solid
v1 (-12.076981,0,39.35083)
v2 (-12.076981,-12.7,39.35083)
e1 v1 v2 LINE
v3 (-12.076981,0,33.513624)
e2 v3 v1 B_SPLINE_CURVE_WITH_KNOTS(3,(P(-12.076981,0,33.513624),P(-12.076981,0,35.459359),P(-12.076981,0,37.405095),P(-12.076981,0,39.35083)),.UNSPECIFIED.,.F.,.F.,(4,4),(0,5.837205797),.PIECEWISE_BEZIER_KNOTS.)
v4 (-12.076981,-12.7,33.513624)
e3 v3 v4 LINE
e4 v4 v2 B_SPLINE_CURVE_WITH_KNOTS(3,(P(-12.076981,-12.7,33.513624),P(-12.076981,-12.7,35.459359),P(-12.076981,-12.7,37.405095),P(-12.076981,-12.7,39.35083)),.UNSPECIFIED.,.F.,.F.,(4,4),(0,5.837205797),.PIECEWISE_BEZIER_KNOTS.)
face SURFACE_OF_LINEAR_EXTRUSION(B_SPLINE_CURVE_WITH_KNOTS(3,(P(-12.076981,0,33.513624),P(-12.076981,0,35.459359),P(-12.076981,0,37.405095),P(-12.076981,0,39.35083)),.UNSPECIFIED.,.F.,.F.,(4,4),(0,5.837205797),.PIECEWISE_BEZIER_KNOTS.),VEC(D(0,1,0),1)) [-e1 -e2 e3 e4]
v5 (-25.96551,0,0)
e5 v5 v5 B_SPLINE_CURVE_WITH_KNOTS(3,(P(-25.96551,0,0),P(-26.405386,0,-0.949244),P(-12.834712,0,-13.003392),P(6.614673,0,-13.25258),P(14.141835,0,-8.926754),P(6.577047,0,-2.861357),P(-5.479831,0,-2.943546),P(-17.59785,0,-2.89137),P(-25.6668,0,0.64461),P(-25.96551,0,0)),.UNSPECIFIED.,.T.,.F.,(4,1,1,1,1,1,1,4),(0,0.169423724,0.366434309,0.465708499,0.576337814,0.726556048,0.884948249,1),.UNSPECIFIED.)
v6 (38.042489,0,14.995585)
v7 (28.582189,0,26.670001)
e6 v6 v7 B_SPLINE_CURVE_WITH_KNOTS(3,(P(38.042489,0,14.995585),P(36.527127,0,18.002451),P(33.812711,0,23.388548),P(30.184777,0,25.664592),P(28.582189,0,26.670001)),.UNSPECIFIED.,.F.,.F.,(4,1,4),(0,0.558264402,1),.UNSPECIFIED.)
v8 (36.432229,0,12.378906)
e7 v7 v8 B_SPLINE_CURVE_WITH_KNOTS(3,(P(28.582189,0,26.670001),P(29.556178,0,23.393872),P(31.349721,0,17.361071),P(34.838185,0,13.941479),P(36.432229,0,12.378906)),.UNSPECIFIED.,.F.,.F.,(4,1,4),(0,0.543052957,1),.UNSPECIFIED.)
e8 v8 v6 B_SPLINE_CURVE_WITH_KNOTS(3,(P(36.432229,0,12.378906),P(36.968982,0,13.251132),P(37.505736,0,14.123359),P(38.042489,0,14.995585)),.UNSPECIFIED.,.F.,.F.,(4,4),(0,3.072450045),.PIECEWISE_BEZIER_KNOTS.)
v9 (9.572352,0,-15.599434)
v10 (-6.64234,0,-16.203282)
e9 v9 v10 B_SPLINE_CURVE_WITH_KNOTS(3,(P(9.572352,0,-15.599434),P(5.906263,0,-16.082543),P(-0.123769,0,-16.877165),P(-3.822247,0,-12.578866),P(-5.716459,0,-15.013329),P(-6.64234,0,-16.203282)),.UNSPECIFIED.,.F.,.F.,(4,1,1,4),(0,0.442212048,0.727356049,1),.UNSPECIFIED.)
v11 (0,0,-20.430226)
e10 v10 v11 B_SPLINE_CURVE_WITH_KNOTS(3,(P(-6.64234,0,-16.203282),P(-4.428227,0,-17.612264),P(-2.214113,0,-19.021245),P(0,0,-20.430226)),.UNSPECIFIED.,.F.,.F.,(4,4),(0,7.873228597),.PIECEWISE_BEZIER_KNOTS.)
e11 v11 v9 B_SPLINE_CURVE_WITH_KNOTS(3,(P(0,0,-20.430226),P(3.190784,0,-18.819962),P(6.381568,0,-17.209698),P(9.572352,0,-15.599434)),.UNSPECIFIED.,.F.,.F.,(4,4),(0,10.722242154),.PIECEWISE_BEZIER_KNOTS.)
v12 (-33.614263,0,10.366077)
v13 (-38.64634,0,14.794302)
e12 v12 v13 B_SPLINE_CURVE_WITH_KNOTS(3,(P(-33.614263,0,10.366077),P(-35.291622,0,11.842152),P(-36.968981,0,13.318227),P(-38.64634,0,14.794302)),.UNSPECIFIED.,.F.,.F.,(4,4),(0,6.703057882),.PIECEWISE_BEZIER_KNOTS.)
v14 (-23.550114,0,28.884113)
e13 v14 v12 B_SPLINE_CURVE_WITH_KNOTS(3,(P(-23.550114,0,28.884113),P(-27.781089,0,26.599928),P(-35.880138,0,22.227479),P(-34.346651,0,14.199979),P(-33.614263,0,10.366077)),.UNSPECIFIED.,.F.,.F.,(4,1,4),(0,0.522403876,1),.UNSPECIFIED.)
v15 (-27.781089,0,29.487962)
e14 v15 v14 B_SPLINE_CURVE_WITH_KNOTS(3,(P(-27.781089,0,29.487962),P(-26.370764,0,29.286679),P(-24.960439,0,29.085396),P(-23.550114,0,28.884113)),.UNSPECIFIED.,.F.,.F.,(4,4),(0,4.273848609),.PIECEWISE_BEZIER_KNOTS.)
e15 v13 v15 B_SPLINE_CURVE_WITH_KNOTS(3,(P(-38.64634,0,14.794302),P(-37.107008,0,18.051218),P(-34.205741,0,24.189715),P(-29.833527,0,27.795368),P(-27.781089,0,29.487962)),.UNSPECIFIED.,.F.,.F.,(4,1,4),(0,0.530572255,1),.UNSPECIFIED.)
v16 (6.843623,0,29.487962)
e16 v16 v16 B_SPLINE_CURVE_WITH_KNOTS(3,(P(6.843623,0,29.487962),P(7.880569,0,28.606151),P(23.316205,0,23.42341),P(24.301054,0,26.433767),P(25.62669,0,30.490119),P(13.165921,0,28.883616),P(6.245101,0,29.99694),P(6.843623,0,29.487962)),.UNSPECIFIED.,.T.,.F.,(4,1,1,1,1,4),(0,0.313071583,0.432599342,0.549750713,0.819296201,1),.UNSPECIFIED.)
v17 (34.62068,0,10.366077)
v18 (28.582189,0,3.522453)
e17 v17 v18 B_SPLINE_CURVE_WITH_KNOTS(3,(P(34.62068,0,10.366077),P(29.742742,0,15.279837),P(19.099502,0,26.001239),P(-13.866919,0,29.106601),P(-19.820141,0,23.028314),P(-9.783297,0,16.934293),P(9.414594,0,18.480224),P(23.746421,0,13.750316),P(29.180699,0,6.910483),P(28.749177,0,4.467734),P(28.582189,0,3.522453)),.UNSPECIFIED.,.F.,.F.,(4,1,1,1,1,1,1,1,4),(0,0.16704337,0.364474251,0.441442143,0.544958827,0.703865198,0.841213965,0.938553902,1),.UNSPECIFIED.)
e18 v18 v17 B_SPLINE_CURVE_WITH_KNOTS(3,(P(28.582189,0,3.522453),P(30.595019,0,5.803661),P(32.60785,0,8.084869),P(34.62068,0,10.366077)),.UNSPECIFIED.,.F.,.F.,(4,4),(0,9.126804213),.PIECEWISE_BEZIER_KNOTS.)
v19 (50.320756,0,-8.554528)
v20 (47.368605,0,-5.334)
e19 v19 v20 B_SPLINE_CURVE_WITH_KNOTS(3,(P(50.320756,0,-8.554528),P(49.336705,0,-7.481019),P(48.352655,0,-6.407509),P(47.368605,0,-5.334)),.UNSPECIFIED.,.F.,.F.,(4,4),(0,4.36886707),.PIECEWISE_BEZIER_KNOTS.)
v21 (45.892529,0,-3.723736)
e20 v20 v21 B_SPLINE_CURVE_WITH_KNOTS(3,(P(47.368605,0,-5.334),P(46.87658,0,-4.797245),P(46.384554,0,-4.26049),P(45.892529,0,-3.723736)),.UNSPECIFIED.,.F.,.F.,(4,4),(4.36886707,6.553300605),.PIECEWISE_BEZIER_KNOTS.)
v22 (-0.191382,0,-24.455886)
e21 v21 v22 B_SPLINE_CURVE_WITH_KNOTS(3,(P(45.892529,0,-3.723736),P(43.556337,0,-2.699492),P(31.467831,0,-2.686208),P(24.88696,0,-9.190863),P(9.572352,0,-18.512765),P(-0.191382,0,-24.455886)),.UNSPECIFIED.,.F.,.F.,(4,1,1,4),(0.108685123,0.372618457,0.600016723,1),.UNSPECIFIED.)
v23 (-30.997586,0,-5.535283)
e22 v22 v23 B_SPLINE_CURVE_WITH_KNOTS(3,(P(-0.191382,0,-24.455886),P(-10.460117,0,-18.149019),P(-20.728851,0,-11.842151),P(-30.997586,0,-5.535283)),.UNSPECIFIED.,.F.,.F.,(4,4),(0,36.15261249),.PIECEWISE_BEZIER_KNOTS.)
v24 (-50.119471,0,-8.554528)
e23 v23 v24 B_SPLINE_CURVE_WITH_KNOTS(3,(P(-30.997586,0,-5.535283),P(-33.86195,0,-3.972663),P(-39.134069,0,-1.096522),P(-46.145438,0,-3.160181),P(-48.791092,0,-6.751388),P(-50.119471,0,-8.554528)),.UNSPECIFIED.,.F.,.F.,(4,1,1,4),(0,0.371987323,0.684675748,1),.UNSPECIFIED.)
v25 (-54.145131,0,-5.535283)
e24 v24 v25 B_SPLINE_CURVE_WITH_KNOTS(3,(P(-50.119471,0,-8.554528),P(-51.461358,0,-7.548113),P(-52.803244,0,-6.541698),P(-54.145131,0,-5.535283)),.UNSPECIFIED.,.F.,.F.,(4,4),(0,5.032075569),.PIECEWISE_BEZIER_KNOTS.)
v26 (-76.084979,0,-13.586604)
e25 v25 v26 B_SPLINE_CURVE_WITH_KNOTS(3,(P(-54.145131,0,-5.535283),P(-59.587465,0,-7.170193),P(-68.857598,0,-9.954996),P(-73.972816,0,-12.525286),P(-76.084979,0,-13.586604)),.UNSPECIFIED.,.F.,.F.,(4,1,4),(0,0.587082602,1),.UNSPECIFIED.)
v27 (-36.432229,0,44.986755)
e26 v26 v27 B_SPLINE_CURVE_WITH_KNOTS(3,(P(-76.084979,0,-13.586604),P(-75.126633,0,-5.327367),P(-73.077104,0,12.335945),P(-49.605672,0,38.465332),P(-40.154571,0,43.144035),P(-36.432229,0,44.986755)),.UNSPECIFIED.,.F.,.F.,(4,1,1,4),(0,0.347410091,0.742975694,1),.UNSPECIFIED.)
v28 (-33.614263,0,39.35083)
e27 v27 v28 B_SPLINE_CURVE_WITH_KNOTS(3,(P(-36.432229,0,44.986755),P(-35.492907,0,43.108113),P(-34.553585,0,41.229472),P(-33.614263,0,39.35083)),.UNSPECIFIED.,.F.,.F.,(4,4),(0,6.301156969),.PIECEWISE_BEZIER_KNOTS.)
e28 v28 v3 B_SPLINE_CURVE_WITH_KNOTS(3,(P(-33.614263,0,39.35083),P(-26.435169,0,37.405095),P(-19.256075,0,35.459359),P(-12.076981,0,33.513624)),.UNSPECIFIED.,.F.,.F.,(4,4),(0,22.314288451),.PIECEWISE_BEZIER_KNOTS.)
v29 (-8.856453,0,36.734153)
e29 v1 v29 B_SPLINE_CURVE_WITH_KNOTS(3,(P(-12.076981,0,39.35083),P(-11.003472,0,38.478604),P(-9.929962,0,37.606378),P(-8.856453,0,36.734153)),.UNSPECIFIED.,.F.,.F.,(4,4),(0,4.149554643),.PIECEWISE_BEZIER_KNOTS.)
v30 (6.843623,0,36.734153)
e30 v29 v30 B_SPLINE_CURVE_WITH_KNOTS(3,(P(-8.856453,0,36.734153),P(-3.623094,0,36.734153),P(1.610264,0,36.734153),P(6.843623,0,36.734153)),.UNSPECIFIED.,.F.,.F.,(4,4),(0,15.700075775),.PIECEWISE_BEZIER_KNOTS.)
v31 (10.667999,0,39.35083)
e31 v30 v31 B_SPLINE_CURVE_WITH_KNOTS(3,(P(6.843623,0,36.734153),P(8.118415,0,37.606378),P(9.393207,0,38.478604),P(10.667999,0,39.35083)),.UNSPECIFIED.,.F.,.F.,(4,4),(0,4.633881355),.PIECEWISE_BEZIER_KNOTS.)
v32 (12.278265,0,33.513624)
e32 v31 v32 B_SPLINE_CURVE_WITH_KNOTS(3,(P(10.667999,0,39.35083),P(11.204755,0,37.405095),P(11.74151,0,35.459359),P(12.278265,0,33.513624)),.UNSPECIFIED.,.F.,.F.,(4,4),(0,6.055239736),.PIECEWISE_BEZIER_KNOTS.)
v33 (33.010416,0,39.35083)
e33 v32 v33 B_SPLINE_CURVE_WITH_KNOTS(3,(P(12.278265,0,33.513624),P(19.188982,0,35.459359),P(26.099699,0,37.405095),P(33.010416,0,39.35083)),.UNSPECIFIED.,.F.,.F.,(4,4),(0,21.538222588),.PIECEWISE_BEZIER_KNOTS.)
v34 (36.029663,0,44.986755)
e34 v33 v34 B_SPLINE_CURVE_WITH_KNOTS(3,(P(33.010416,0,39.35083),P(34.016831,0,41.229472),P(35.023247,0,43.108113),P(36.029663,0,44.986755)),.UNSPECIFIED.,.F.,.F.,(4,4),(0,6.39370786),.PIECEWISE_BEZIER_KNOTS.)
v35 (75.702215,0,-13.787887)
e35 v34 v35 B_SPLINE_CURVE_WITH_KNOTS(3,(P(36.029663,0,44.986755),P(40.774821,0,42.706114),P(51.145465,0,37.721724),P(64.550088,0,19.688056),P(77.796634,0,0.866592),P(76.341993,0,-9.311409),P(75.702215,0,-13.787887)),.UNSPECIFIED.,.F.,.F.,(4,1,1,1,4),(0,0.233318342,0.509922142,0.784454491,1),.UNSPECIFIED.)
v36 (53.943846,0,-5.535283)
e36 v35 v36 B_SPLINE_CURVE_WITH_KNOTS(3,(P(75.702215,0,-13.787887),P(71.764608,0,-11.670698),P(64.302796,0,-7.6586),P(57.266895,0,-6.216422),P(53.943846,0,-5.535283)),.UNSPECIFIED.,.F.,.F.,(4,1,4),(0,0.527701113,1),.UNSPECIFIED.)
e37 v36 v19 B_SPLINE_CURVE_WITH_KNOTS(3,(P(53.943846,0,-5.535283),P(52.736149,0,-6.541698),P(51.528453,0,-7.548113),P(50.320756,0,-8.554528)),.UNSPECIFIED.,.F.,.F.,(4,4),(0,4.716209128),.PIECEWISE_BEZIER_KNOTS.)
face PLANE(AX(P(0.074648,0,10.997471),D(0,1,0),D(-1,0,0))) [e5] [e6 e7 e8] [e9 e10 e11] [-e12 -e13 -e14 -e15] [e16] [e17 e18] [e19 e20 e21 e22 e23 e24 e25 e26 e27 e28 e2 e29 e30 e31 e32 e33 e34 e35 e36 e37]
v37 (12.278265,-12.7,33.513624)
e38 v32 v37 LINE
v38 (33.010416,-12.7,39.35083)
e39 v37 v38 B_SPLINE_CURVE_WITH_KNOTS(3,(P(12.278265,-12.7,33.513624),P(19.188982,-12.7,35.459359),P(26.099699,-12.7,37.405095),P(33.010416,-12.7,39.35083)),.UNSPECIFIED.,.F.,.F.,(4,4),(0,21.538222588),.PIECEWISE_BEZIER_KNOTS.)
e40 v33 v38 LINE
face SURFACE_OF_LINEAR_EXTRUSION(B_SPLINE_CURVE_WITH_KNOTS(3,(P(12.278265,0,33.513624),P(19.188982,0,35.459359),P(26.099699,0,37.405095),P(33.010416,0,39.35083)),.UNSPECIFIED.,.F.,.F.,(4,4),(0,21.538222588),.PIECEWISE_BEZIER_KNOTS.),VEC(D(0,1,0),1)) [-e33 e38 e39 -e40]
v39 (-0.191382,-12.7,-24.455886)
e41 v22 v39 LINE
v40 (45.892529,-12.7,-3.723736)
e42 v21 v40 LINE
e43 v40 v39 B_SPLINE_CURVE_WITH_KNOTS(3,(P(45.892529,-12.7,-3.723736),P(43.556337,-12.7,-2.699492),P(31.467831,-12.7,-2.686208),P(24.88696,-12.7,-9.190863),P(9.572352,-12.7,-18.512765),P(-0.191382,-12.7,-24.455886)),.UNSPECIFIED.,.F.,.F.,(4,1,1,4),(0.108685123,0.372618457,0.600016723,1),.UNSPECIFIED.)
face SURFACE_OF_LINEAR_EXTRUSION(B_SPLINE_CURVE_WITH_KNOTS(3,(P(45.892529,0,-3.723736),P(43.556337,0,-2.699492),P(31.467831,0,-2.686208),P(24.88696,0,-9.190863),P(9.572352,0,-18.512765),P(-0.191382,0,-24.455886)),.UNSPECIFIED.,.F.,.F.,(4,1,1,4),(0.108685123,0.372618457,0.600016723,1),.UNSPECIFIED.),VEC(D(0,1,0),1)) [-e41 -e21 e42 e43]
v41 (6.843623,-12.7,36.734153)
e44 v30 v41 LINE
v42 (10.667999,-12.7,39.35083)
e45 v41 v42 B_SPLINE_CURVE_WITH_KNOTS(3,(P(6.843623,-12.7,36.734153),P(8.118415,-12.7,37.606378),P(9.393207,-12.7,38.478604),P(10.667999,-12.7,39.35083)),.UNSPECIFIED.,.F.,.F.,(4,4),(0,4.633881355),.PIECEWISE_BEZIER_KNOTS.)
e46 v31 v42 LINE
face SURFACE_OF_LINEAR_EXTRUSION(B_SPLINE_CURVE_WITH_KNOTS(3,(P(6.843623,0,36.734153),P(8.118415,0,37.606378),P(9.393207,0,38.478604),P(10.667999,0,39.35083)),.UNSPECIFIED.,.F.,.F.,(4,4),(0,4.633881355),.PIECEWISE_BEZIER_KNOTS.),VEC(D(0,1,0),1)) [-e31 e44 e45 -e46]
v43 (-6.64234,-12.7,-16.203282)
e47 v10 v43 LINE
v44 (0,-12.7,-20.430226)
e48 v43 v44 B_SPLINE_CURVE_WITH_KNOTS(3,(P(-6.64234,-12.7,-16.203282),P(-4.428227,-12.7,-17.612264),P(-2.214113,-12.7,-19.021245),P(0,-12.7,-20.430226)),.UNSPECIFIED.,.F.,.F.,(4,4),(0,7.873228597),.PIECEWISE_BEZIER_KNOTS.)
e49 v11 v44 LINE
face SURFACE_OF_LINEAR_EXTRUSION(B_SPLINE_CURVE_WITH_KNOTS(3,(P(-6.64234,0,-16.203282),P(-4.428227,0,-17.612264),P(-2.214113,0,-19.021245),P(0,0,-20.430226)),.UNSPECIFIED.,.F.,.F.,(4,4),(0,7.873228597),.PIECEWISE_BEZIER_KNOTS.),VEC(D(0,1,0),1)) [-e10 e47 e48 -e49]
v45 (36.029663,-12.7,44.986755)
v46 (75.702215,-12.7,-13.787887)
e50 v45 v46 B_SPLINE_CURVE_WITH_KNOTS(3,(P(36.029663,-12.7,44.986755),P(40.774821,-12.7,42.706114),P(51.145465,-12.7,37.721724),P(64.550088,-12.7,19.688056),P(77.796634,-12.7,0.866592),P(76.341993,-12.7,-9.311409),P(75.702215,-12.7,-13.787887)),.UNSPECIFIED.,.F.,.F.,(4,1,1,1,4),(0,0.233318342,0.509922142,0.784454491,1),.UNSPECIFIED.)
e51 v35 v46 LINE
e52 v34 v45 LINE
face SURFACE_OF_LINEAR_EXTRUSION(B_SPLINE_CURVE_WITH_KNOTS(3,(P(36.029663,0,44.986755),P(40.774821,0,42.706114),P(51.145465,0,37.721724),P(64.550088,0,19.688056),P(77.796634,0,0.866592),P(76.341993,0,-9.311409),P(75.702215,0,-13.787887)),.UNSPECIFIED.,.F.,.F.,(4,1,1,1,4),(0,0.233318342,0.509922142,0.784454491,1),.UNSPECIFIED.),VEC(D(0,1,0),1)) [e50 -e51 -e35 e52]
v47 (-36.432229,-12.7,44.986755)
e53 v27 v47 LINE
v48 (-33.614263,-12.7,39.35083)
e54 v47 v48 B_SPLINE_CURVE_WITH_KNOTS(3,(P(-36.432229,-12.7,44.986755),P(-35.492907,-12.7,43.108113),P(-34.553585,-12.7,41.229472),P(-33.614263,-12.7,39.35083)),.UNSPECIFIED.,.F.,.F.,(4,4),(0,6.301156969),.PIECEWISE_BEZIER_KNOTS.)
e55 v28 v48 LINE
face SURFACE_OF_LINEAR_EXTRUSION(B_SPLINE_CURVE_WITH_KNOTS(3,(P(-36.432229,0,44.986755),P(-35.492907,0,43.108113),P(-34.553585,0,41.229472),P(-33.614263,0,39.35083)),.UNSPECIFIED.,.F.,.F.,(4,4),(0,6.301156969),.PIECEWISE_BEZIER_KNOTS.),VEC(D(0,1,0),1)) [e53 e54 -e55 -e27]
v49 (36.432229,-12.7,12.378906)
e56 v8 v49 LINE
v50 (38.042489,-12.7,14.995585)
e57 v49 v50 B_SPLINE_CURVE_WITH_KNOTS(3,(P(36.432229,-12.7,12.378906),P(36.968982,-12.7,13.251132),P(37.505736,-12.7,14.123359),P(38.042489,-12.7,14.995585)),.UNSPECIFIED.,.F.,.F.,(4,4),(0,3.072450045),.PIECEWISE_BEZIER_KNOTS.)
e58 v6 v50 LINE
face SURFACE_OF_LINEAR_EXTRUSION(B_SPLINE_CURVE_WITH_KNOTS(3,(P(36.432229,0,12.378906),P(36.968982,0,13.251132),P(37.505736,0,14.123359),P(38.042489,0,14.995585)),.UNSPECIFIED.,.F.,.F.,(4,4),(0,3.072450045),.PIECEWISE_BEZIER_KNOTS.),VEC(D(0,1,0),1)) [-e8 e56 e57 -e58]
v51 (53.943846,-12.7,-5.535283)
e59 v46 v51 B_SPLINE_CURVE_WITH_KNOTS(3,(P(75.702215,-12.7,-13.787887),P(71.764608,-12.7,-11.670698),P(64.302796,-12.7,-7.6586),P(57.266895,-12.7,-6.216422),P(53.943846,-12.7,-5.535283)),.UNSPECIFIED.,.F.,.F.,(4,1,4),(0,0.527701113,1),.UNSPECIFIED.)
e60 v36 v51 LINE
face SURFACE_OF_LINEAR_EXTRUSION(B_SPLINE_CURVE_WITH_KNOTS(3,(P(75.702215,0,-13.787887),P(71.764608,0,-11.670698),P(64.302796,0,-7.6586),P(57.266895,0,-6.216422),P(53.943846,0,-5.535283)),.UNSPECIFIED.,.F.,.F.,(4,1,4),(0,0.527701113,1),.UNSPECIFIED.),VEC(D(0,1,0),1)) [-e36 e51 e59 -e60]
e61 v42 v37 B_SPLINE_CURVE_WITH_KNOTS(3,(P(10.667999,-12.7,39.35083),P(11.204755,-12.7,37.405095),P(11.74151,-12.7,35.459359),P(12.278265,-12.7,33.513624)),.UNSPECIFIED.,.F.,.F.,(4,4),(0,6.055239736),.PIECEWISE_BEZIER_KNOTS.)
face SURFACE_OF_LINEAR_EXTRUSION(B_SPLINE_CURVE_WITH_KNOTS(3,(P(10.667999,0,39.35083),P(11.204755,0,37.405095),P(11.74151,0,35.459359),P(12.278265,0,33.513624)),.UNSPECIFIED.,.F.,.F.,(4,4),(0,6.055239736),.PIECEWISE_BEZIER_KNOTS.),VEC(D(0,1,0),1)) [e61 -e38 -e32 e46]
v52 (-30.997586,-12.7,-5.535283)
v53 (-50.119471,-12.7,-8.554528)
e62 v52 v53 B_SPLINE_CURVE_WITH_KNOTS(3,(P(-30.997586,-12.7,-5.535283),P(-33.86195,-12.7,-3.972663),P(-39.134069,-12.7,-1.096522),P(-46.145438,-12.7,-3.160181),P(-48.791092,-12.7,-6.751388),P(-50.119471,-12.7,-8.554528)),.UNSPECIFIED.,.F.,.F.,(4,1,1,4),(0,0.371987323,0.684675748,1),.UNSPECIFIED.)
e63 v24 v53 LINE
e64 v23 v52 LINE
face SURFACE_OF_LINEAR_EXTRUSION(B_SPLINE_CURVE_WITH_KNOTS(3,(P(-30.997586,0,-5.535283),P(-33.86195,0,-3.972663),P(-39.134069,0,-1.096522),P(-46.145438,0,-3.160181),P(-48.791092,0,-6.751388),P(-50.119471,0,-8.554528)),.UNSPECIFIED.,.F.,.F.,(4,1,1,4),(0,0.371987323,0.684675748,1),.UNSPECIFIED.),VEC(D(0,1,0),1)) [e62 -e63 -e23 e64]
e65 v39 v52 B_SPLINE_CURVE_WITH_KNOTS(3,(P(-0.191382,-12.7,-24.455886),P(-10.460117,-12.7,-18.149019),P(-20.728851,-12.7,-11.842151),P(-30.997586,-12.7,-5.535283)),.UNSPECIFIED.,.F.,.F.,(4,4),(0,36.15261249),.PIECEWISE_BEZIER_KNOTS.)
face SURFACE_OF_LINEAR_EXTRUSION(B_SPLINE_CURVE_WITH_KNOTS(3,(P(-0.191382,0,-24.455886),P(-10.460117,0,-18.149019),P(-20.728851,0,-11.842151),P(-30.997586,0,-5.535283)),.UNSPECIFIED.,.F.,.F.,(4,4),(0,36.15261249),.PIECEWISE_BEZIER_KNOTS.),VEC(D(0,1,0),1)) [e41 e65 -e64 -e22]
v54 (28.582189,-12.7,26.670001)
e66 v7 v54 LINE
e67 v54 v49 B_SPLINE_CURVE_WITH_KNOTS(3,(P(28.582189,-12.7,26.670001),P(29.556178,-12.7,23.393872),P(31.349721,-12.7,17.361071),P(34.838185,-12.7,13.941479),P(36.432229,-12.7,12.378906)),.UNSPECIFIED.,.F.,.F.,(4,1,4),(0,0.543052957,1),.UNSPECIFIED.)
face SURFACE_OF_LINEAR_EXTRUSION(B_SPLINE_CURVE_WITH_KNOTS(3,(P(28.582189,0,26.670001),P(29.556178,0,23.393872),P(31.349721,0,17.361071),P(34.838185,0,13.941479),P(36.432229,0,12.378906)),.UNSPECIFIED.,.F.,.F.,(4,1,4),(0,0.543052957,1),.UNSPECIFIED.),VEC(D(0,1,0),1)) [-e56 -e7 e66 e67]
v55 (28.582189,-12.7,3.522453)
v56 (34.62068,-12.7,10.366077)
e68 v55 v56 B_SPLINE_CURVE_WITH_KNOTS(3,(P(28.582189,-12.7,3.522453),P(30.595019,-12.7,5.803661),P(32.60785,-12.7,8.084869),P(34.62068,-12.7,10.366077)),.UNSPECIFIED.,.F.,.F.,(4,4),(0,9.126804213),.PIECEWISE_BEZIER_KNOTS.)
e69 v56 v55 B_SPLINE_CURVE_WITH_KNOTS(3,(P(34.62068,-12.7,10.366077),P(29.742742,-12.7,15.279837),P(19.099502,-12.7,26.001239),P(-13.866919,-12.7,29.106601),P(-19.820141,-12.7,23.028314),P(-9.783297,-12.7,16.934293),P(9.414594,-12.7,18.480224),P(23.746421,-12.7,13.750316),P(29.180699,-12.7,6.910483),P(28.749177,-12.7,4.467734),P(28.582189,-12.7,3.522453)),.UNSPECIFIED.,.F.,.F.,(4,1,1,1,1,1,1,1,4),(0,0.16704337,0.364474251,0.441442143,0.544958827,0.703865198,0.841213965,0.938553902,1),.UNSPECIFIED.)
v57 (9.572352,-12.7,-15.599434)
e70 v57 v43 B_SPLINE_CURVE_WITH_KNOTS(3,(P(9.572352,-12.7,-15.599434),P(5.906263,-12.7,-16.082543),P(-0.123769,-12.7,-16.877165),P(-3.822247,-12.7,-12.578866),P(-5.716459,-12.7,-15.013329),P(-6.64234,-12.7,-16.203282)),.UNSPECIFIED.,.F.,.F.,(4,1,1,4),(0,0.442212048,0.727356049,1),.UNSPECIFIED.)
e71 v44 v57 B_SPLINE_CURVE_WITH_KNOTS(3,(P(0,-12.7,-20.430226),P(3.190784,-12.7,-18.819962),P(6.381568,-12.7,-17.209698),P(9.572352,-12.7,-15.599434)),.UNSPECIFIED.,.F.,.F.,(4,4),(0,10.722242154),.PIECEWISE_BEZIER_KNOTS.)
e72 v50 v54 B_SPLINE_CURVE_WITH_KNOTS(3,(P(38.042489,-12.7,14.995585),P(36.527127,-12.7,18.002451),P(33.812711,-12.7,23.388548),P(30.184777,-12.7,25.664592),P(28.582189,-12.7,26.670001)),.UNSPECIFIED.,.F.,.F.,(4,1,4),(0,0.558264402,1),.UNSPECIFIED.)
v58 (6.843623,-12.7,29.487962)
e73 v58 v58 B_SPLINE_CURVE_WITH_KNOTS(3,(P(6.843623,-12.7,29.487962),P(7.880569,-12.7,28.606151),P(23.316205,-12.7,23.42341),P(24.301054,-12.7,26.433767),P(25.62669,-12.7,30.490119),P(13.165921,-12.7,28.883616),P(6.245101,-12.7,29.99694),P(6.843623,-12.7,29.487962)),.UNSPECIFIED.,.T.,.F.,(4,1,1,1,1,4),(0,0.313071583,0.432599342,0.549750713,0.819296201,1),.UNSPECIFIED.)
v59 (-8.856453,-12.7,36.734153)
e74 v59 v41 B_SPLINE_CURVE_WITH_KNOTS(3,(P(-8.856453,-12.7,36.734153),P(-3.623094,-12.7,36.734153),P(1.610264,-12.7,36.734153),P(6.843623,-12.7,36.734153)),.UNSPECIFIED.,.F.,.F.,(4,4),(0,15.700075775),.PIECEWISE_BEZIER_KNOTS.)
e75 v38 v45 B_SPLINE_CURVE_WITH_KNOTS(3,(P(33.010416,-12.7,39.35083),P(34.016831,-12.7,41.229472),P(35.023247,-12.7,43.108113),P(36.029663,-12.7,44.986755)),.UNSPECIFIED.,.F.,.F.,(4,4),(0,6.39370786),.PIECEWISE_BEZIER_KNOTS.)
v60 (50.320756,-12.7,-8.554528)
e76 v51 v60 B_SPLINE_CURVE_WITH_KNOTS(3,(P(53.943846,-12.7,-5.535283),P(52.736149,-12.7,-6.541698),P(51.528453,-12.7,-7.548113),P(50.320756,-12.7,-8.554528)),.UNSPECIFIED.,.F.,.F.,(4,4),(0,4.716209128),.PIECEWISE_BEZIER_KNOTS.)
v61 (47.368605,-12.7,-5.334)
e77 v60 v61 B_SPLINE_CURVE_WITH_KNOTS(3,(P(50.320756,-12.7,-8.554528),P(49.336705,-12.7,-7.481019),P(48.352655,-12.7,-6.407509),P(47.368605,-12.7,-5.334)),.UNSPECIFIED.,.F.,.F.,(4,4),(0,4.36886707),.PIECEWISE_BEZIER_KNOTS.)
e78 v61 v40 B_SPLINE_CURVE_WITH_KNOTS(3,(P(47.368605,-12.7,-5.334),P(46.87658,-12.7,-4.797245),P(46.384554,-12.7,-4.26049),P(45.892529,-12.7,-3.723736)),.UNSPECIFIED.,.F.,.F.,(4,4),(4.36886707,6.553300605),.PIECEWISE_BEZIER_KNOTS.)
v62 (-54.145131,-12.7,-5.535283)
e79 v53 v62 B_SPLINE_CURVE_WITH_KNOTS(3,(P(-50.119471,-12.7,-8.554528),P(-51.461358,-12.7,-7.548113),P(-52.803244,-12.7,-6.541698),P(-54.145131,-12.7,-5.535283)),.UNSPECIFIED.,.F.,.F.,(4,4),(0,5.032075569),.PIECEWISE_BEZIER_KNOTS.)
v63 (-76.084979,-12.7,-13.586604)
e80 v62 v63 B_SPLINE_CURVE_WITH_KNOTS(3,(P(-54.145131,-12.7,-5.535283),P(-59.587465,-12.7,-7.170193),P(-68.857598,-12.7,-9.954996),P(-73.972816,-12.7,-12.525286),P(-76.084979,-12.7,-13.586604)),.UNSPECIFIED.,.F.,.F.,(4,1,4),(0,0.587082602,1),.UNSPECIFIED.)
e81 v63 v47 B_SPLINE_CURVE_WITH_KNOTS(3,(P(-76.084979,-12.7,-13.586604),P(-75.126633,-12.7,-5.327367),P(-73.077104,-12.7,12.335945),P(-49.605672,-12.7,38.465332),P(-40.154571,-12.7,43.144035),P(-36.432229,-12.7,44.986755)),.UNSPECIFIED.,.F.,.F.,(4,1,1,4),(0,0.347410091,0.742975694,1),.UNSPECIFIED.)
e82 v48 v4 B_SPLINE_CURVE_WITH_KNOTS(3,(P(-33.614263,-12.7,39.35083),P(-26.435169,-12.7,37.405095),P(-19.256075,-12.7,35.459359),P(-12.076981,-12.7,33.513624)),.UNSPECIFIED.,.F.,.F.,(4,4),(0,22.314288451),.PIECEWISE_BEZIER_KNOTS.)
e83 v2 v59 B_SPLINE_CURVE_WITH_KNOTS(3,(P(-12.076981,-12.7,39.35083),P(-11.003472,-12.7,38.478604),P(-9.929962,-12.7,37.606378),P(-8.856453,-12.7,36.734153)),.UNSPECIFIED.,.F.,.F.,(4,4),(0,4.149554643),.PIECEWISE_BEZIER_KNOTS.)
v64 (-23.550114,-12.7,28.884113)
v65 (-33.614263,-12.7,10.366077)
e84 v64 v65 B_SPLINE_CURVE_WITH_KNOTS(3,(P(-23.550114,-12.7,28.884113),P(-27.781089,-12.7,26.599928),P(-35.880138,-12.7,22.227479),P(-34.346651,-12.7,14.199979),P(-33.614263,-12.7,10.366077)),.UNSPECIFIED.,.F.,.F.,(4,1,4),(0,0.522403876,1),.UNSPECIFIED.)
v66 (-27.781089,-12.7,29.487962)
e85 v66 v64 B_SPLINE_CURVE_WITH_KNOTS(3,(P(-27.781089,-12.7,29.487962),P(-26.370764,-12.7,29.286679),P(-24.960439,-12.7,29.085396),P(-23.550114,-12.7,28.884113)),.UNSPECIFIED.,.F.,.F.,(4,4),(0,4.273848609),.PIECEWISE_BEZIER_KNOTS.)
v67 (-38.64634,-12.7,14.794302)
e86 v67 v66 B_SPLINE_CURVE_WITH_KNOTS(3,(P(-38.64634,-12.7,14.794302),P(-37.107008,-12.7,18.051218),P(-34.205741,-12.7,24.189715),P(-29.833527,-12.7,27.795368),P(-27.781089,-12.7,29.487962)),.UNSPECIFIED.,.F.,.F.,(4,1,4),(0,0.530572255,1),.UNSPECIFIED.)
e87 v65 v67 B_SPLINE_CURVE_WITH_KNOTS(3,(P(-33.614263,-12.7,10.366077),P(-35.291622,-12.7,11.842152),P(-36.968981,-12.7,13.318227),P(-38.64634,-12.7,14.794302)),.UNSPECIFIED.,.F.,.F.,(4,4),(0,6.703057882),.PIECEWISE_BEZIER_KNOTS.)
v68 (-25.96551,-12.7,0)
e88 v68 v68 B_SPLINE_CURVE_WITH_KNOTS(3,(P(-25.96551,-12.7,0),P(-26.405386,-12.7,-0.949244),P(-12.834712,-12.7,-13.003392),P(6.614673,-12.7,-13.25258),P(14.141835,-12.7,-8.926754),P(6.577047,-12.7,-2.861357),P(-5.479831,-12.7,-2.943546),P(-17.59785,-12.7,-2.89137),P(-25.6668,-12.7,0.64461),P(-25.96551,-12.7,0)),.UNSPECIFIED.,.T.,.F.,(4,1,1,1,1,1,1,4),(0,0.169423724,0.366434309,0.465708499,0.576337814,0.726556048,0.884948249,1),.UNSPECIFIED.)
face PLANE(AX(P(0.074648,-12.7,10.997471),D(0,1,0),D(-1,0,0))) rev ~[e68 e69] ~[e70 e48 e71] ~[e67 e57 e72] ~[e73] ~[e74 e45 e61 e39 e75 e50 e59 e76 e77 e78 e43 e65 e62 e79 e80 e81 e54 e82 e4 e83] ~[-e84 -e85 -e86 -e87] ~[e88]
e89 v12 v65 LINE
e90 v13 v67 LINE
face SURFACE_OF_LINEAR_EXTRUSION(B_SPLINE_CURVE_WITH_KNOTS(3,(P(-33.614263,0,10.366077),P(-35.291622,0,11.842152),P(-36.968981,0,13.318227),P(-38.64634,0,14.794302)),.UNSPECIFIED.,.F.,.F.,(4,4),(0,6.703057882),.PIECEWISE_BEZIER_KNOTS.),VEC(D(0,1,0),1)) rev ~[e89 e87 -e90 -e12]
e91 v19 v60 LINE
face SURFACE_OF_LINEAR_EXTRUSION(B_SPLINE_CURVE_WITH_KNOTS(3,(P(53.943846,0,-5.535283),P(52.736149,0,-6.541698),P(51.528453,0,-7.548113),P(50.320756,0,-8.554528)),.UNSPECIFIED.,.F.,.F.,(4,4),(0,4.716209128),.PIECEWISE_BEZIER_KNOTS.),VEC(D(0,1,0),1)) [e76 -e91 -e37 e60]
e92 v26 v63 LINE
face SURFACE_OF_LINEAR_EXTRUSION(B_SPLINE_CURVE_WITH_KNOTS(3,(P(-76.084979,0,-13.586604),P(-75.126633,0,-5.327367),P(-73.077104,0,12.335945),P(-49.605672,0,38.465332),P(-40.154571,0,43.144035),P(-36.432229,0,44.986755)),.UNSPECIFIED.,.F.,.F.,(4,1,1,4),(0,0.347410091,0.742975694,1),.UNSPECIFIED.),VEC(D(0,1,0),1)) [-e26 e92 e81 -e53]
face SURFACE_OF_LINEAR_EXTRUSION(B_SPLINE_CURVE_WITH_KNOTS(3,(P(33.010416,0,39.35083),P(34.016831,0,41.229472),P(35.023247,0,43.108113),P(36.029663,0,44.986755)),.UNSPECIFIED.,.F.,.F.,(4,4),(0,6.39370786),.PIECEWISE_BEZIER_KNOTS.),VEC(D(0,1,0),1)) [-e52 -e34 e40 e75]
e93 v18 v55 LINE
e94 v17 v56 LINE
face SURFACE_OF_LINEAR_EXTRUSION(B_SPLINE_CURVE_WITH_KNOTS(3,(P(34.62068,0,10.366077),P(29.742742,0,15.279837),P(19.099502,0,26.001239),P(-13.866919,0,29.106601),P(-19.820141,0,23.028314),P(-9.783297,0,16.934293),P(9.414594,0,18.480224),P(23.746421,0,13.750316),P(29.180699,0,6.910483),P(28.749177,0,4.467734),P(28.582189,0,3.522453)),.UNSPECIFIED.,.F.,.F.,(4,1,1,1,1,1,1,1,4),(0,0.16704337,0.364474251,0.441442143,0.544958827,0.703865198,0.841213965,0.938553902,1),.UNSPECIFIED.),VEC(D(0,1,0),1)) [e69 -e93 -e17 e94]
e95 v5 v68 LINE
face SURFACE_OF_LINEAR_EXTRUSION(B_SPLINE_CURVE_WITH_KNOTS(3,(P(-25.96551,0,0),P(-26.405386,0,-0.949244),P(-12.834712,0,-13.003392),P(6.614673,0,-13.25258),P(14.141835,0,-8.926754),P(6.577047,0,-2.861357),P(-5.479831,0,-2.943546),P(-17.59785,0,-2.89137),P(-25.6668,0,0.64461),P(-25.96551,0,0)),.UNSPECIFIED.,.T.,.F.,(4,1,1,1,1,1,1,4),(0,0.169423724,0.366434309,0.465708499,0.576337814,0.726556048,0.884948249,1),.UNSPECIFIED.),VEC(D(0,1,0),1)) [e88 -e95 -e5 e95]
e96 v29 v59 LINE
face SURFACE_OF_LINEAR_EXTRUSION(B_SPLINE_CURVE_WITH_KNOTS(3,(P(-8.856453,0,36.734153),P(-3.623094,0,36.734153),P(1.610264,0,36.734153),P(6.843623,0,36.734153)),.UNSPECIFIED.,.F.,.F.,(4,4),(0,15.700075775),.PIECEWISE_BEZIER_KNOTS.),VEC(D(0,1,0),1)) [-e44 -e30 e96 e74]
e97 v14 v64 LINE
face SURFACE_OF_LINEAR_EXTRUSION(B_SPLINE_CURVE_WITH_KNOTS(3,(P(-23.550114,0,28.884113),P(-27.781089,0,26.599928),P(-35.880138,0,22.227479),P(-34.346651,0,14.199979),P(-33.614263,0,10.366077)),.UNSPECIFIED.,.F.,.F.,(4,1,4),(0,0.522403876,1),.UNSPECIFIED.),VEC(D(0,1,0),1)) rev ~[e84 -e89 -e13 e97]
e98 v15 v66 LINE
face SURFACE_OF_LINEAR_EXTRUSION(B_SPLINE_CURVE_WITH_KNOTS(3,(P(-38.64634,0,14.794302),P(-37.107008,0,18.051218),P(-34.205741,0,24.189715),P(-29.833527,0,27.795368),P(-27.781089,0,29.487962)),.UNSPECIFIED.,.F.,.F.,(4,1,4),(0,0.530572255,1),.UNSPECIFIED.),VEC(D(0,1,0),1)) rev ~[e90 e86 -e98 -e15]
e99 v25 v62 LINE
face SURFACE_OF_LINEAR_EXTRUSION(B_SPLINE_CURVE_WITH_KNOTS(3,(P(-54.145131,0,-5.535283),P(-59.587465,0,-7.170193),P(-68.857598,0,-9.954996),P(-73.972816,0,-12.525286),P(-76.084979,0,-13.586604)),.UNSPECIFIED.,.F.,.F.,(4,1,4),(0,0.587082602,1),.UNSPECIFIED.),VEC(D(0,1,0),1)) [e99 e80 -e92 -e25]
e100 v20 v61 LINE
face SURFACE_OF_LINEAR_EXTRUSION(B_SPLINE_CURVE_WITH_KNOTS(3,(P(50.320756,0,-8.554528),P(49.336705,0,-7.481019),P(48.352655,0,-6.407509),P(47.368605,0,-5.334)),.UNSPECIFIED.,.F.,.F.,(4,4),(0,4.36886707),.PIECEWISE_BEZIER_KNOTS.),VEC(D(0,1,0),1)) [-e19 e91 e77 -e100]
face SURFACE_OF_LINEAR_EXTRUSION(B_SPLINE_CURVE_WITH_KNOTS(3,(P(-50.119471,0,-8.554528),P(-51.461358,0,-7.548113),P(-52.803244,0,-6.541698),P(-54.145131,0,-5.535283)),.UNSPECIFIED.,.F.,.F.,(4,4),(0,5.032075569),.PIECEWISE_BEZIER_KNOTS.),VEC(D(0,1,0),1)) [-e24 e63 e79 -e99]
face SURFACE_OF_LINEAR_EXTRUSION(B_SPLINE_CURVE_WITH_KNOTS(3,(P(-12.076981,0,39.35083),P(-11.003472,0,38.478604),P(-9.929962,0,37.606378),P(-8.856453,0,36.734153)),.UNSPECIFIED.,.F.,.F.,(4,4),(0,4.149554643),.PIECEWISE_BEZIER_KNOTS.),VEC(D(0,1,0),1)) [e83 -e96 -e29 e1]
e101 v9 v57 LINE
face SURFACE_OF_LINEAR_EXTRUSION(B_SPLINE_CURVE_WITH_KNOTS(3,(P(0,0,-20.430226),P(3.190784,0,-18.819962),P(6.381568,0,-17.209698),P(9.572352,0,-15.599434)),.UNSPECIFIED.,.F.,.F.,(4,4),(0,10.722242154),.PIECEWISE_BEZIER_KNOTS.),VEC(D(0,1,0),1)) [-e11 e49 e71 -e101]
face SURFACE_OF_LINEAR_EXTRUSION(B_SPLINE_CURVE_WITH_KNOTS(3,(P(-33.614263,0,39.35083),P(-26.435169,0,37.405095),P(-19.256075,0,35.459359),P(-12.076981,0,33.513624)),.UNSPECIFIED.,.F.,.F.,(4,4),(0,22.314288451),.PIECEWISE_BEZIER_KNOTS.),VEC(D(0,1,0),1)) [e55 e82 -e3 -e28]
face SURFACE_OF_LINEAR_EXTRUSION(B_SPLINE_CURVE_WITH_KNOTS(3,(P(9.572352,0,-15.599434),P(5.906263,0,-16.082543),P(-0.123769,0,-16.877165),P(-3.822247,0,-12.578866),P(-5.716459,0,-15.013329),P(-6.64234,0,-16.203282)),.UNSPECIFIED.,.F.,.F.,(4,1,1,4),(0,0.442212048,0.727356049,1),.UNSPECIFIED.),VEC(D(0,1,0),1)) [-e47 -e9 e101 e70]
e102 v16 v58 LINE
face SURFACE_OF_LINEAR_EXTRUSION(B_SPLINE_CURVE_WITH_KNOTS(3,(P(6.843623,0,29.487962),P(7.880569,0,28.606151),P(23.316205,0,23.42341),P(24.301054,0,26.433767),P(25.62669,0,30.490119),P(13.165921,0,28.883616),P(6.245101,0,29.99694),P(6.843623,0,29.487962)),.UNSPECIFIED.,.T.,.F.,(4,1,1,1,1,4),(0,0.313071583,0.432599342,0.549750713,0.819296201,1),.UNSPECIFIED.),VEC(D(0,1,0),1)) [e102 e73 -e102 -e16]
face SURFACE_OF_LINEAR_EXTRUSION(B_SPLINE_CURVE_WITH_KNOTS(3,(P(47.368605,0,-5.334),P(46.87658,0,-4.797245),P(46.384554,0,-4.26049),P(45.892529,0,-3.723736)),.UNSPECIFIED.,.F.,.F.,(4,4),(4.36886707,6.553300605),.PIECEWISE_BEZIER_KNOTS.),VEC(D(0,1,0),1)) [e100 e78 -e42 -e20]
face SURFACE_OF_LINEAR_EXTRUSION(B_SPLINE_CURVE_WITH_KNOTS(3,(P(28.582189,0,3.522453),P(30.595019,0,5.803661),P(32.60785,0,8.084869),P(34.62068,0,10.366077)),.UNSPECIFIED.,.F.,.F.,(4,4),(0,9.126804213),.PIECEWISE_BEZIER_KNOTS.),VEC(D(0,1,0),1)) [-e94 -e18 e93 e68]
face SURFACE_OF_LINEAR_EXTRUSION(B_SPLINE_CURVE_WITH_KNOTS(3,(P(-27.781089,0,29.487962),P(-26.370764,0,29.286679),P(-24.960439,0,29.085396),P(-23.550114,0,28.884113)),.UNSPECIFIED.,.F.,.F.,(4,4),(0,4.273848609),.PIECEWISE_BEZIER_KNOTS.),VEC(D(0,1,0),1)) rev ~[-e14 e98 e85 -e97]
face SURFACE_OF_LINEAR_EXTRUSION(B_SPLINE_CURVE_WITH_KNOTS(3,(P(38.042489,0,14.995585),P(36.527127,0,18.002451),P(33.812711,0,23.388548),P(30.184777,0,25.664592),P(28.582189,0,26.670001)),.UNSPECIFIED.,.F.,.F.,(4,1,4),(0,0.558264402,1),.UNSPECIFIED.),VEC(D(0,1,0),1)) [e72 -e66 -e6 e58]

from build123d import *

# Parameters (mm, degrees)
F1_DEPTH = 12.7


with BuildPart() as f1:
    # F0 (on Front) → F1 (new body)
    with BuildSketch(Plane.XZ):
        with BuildLine():
            add(Edge.make_bspline(
                [(-76.0849788785, -13.5866040364), (-75.1266334343, -5.3273665478), (-73.0771035303, 12.335945069), (-49.6056721398, 38.4653316771), (-40.1545708662, 43.144034753), (-36.4322289824, 44.9867546558)],
                knots=[0, 0, 0, 0, 0.3474100913, 0.7429756935, 1, 1, 1, 1], degree=3))
            add(Edge.make_bspline(
                [(-54.1451312602, -5.5352831259), (-59.5874650975, -7.1701927341), (-68.8575981646, -9.954996106), (-73.9728163094, -12.5252864388), (-76.0849788785, -13.5866040364)],
                knots=[0, 0, 0, 0, 0.5870826015, 1, 1, 1, 1], degree=3))
            add(Edge.make_bspline(
                [(-50.1194708049, -8.5545284674), (-51.4613576233, -7.5481133536), (-52.8032444417, -6.5416982397), (-54.1451312602, -5.5352831259)],
                knots=[0, 0, 0, 0, 5.032075569, 5.032075569, 5.032075569, 5.032075569], degree=3))
            add(Edge.make_bspline(
                [(-30.9975855052, -5.5352831259), (-33.8619504322, -3.9726631978), (-39.1340688079, -1.0965222565), (-46.1454382464, -3.1601805859), (-48.7910919356, -6.7513882983), (-50.1194708049, -8.5545284674)],
                knots=[0, 0, 0, 0, 0.3719873227, 0.6846757481, 1, 1, 1, 1], degree=3))
            add(Edge.make_bspline(
                [(-0.1913821681, -24.4558863342), (-10.4601166138, -18.1490185981), (-20.7288510595, -11.842150862), (-30.9975855052, -5.5352831259)],
                knots=[0, 0, 0, 0, 36.1526124895, 36.1526124895, 36.1526124895, 36.1526124895], degree=3))
            add(Edge.make_bspline(
                [(45.8925291896, -3.7237356883), (43.5563374976, -2.6994919805), (31.467830704, -2.6862082338), (24.8869596515, -9.1908633624), (9.5723523332, -18.5127648741), (-0.1913821681, -24.4558863342)],
                knots=[0.1086851231, 0.1086851231, 0.1086851231, 0.1086851231, 0.372618457, 0.6000167233, 1, 1, 1, 1], degree=3))
            add(Edge.make_bspline(
                [(47.3686046898, -5.333999948), (47.1115771965, -4.7397545063), (46.8545497032, -4.1455090646), (45.8925291896, -3.7237356883)],
                knots=[0, 0, 0, 0, 0.1086851231, 0.1086851231, 0.1086851231, 0.1086851231], degree=3))
            add(Edge.make_bspline(
                [(50.3207556903, -8.5545284674), (49.3367053568, -7.4810189609), (48.3526550233, -6.4075094544), (47.3686046898, -5.333999948)],
                knots=[0, 0, 0, 0, 4.3688670699, 4.3688670699, 4.3688670699, 4.3688670699], degree=3))
            add(Edge.make_bspline(
                [(53.9438463748, -5.5352831259), (52.7361494799, -6.5416982397), (51.5284525851, -7.5481133536), (50.3207556903, -8.5545284674)],
                knots=[0, 0, 0, 0, 4.716209128, 4.716209128, 4.716209128, 4.716209128], degree=3))
            add(Edge.make_bspline(
                [(75.7022145423, -13.7878870592), (71.7646079253, -11.6706982095), (64.3027957037, -7.6585997014), (57.2668946221, -6.2164220331), (53.9438463748, -5.5352831259)],
                knots=[0, 0, 0, 0, 0.5277011133, 1, 1, 1, 1], degree=3))
            add(Edge.make_bspline(
                [(36.0296629369, 44.9867546558), (40.7748212655, 42.7061135319), (51.1454645652, 37.7217244023), (64.5500880531, 19.6880556989), (77.7966344464, 0.8665923491), (76.3419932471, -9.3114094257), (75.7022145423, -13.7878870592)],
                knots=[0, 0, 0, 0, 0.2333183418, 0.5099221418, 0.7844544912, 1, 1, 1, 1], degree=3))
            add(Edge.make_bspline(
                [(33.0104157329, 39.3508300185), (34.0168314675, 41.2294715643), (35.0232472022, 43.1081131101), (36.0296629369, 44.9867546558)],
                knots=[0, 0, 0, 0, 6.3937078598, 6.3937078598, 6.3937078598, 6.3937078598], degree=3))
            add(Edge.make_bspline(
                [(12.2782653198, 33.5136242211), (19.1889821241, 35.4593594869), (26.0996989285, 37.4050947527), (33.0104157329, 39.3508300185)],
                knots=[0, 0, 0, 0, 21.5382225885, 21.5382225885, 21.5382225885, 21.5382225885], degree=3))
            add(Edge.make_bspline(
                [(10.667999275, 39.3508300185), (11.2047546233, 37.4050947527), (11.7415099715, 35.4593594869), (12.2782653198, 33.5136242211)],
                knots=[0, 0, 0, 0, 6.0552397357, 6.0552397357, 6.0552397357, 6.0552397357], degree=3))
            add(Edge.make_bspline(
                [(6.8436227739, 36.7341525853), (8.1184149409, 37.6063783964), (9.393207108, 38.4786042074), (10.667999275, 39.3508300185)],
                knots=[0, 0, 0, 0, 4.633881355, 4.633881355, 4.633881355, 4.633881355], degree=3))
            add(Edge.make_bspline(
                [(-8.8564530015, 36.7341525853), (-3.6230944097, 36.7341525853), (1.6102641821, 36.7341525853), (6.8436227739, 36.7341525853)],
                knots=[0, 0, 0, 0, 15.7000757754, 15.7000757754, 15.7000757754, 15.7000757754], degree=3))
            add(Edge.make_bspline(
                [(-12.0769813657, 39.3508300185), (-11.003471911, 38.4786042074), (-9.9299624562, 37.6063783964), (-8.8564530015, 36.7341525853)],
                knots=[0, 0, 0, 0, 4.1495546429, 4.1495546429, 4.1495546429, 4.1495546429], degree=3))
            add(Edge.make_bspline(
                [(-12.0769813657, 33.5136242211), (-12.0769813657, 35.4593594869), (-12.0769813657, 37.4050947527), (-12.0769813657, 39.3508300185)],
                knots=[0, 0, 0, 0, 5.8372057974, 5.8372057974, 5.8372057974, 5.8372057974], degree=3))
            add(Edge.make_bspline(
                [(-33.6142629385, 39.3508300185), (-26.4351690809, 37.4050947527), (-19.2560752233, 35.4593594869), (-12.0769813657, 33.5136242211)],
                knots=[0, 0, 0, 0, 22.3142884509, 22.3142884509, 22.3142884509, 22.3142884509], degree=3))
            add(Edge.make_bspline(
                [(-36.4322289824, 44.9867546558), (-35.4929069678, 43.1081131101), (-34.5535849531, 41.2294715643), (-33.6142629385, 39.3508300185)],
                knots=[0, 0, 0, 0, 6.3011569686, 6.3011569686, 6.3011569686, 6.3011569686], degree=3))
        make_face()
        with BuildLine():
            add(Edge.make_bspline(
                [(-25.9655099362, 0), (-26.4053859361, -0.9492438834), (-12.8347117123, -13.0033917423), (6.6146725075, -13.252580443), (14.1418353423, -8.9267539058), (6.5770467519, -2.8613569567), (-5.4798314929, -2.9435458935), (-17.5978501683, -2.8913700534), (-25.6668002692, 0.6446096726), (-25.9655099362, 0)],
                knots=[0, 0, 0, 0, 0.1694237236, 0.3664343089, 0.4657084991, 0.5763378141, 0.726556048, 0.8849482489, 1, 1, 1, 1], degree=3))
        make_face(mode=Mode.SUBTRACT)
        with BuildLine():
            add(Edge.make_bspline(
                [(-6.6423397511, -16.203282401), (-4.4282265007, -17.6122635603), (-2.2141132504, -19.0212447196), (0, -20.430225879)],
                knots=[0, 0, 0, 0, 7.8732285967, 7.8732285967, 7.8732285967, 7.8732285967], degree=3))
            add(Edge.make_bspline(
                [(9.5723523332, -15.599434264), (5.9062627188, -16.0825425035), (-0.1237685013, -16.8771651324), (-3.82224687, -12.5788660357), (-5.7164585763, -15.0133290824), (-6.6423397511, -16.203282401)],
                knots=[0, 0, 0, 0, 0.4422120481, 0.7273560487, 1, 1, 1, 1], degree=3))
            add(Edge.make_bspline(
                [(0, -20.430225879), (3.1907841111, -18.8199620073), (6.3815682221, -17.2096981357), (9.5723523332, -15.599434264)],
                knots=[0, 0, 0, 0, 10.7222421544, 10.7222421544, 10.7222421544, 10.7222421544], degree=3))
        make_face(mode=Mode.SUBTRACT)
        with BuildLine():
            add(Edge.make_bspline(
                [(-27.7810885193, 29.4879619032), (-26.3707635673, 29.2866788805), (-24.9604386152, 29.0853958577), (-23.5501136631, 28.8841128349)],
                knots=[0, 0, 0, 0, 4.2738486089, 4.2738486089, 4.2738486089, 4.2738486089], degree=3))
            add(Edge.make_bspline(
                [(-23.5501136631, 28.8841128349), (-27.7810885193, 26.5999283672), (-35.8801380352, 22.2274790534), (-34.3466505961, 14.19997935), (-33.6142629385, 10.3660766035)],
                knots=[0, 0, 0, 0, 0.5224038757, 1, 1, 1, 1], degree=3))
            add(Edge.make_bspline(
                [(-33.6142629385, 10.3660766035), (-35.2916220824, 11.8421517933), (-36.9689812263, 13.3182269831), (-38.6463403702, 14.794302173)],
                knots=[0, 0, 0, 0, 6.7030578822, 6.7030578822, 6.7030578822, 6.7030578822], degree=3))
            add(Edge.make_bspline(
                [(-38.6463403702, 14.794302173), (-37.107008463, 18.0512181699), (-34.2057412112, 24.1897147991), (-29.8335271215, 27.7953681706), (-27.7810885193, 29.4879619032)],
                knots=[0, 0, 0, 0, 0.5305722547, 1, 1, 1, 1], degree=3))
        make_face(mode=Mode.SUBTRACT)
        with BuildLine():
            add(Edge.make_bspline(
                [(28.5821892321, 3.5224528983), (30.5950194597, 5.8036608001), (32.6078496873, 8.0848687018), (34.620679915, 10.3660766035)],
                knots=[0, 0, 0, 0, 9.1268042132, 9.1268042132, 9.1268042132, 9.1268042132], degree=3))
            add(Edge.make_bspline(
                [(34.620679915, 10.3660766035), (29.7427422613, 15.2798370903), (19.0995022745, 26.0012394149), (-13.8669190621, 29.1066006849), (-19.8201411378, 23.0283141679), (-9.783296683, 16.9342926846), (9.4145944389, 18.4802235257), (23.7464212879, 13.7503156822), (29.1806991926, 6.9104832035), (28.7491771328, 4.4677338551), (28.5821892321, 3.5224528983)],
                knots=[0, 0, 0, 0, 0.1670433699, 0.3644742514, 0.4414421431, 0.5449588273, 0.703865198, 0.8412139653, 0.9385539024, 1, 1, 1, 1], degree=3))
        make_face(mode=Mode.SUBTRACT)
        with BuildLine():
            add(Edge.make_bspline(
                [(6.8436227739, 29.4879619032), (7.88056868, 28.606151301), (23.3162050314, 23.423410194), (24.3010540214, 26.4337667412), (25.6266900106, 30.4901189993), (13.1659209359, 28.8836158477), (6.245101303, 29.9969398312), (6.8436227739, 29.4879619032)],
                knots=[0, 0, 0, 0, 0.3130715829, 0.4325993415, 0.549750713, 0.8192962013, 1, 1, 1, 1], degree=3))
        make_face(mode=Mode.SUBTRACT)
        with BuildLine():
            add(Edge.make_bspline(
                [(28.5821892321, 26.6700014472), (29.5561778847, 23.3938715337), (31.349720558, 17.3610714725), (34.8381853239, 13.9414787032), (36.4322289824, 12.3789058998)],
                knots=[0, 0, 0, 0, 0.5430529572, 1, 1, 1, 1], degree=3))
            add(Edge.make_bspline(
                [(38.0424894392, 14.9955851957), (36.527127254, 18.0024512887), (33.8127106111, 23.3885480548), (30.1847767597, 25.6645918718), (28.5821892321, 26.6700014472)],
                knots=[0, 0, 0, 0, 0.5582644025, 1, 1, 1, 1], degree=3))
            add(Edge.make_bspline(
                [(36.4322289824, 12.3789058998), (36.968982468, 13.2511323318), (37.5057359536, 14.1233587638), (38.0424894392, 14.9955851957)],
                knots=[0, 0, 0, 0, 3.0724500446, 3.0724500446, 3.0724500446, 3.0724500446], degree=3))
        make_face(mode=Mode.SUBTRACT)
        with BuildLine():
            add(Edge.make_bspline(
                [(47.3686046898, -5.333999948), (47.1115771965, -4.7397545063), (46.8545497032, -4.1455090646), (45.8925291896, -3.7237356883)],
                knots=[0, 0, 0, 0, 0.1086851231, 0.1086851231, 0.1086851231, 0.1086851231], degree=3))
            add(Edge.make_bspline(
                [(47.3686046898, -5.333999948), (46.8765795231, -4.7972451947), (46.3845543563, -4.2604904415), (45.8925291896, -3.7237356883)],
                knots=[4.3688670699, 4.3688670699, 4.3688670699, 4.3688670699, 6.5533006048, 6.5533006048, 6.5533006048, 6.5533006048], degree=3))
        make_face()
    extrude(amount=F1_DEPTH)


solid = f1.part
